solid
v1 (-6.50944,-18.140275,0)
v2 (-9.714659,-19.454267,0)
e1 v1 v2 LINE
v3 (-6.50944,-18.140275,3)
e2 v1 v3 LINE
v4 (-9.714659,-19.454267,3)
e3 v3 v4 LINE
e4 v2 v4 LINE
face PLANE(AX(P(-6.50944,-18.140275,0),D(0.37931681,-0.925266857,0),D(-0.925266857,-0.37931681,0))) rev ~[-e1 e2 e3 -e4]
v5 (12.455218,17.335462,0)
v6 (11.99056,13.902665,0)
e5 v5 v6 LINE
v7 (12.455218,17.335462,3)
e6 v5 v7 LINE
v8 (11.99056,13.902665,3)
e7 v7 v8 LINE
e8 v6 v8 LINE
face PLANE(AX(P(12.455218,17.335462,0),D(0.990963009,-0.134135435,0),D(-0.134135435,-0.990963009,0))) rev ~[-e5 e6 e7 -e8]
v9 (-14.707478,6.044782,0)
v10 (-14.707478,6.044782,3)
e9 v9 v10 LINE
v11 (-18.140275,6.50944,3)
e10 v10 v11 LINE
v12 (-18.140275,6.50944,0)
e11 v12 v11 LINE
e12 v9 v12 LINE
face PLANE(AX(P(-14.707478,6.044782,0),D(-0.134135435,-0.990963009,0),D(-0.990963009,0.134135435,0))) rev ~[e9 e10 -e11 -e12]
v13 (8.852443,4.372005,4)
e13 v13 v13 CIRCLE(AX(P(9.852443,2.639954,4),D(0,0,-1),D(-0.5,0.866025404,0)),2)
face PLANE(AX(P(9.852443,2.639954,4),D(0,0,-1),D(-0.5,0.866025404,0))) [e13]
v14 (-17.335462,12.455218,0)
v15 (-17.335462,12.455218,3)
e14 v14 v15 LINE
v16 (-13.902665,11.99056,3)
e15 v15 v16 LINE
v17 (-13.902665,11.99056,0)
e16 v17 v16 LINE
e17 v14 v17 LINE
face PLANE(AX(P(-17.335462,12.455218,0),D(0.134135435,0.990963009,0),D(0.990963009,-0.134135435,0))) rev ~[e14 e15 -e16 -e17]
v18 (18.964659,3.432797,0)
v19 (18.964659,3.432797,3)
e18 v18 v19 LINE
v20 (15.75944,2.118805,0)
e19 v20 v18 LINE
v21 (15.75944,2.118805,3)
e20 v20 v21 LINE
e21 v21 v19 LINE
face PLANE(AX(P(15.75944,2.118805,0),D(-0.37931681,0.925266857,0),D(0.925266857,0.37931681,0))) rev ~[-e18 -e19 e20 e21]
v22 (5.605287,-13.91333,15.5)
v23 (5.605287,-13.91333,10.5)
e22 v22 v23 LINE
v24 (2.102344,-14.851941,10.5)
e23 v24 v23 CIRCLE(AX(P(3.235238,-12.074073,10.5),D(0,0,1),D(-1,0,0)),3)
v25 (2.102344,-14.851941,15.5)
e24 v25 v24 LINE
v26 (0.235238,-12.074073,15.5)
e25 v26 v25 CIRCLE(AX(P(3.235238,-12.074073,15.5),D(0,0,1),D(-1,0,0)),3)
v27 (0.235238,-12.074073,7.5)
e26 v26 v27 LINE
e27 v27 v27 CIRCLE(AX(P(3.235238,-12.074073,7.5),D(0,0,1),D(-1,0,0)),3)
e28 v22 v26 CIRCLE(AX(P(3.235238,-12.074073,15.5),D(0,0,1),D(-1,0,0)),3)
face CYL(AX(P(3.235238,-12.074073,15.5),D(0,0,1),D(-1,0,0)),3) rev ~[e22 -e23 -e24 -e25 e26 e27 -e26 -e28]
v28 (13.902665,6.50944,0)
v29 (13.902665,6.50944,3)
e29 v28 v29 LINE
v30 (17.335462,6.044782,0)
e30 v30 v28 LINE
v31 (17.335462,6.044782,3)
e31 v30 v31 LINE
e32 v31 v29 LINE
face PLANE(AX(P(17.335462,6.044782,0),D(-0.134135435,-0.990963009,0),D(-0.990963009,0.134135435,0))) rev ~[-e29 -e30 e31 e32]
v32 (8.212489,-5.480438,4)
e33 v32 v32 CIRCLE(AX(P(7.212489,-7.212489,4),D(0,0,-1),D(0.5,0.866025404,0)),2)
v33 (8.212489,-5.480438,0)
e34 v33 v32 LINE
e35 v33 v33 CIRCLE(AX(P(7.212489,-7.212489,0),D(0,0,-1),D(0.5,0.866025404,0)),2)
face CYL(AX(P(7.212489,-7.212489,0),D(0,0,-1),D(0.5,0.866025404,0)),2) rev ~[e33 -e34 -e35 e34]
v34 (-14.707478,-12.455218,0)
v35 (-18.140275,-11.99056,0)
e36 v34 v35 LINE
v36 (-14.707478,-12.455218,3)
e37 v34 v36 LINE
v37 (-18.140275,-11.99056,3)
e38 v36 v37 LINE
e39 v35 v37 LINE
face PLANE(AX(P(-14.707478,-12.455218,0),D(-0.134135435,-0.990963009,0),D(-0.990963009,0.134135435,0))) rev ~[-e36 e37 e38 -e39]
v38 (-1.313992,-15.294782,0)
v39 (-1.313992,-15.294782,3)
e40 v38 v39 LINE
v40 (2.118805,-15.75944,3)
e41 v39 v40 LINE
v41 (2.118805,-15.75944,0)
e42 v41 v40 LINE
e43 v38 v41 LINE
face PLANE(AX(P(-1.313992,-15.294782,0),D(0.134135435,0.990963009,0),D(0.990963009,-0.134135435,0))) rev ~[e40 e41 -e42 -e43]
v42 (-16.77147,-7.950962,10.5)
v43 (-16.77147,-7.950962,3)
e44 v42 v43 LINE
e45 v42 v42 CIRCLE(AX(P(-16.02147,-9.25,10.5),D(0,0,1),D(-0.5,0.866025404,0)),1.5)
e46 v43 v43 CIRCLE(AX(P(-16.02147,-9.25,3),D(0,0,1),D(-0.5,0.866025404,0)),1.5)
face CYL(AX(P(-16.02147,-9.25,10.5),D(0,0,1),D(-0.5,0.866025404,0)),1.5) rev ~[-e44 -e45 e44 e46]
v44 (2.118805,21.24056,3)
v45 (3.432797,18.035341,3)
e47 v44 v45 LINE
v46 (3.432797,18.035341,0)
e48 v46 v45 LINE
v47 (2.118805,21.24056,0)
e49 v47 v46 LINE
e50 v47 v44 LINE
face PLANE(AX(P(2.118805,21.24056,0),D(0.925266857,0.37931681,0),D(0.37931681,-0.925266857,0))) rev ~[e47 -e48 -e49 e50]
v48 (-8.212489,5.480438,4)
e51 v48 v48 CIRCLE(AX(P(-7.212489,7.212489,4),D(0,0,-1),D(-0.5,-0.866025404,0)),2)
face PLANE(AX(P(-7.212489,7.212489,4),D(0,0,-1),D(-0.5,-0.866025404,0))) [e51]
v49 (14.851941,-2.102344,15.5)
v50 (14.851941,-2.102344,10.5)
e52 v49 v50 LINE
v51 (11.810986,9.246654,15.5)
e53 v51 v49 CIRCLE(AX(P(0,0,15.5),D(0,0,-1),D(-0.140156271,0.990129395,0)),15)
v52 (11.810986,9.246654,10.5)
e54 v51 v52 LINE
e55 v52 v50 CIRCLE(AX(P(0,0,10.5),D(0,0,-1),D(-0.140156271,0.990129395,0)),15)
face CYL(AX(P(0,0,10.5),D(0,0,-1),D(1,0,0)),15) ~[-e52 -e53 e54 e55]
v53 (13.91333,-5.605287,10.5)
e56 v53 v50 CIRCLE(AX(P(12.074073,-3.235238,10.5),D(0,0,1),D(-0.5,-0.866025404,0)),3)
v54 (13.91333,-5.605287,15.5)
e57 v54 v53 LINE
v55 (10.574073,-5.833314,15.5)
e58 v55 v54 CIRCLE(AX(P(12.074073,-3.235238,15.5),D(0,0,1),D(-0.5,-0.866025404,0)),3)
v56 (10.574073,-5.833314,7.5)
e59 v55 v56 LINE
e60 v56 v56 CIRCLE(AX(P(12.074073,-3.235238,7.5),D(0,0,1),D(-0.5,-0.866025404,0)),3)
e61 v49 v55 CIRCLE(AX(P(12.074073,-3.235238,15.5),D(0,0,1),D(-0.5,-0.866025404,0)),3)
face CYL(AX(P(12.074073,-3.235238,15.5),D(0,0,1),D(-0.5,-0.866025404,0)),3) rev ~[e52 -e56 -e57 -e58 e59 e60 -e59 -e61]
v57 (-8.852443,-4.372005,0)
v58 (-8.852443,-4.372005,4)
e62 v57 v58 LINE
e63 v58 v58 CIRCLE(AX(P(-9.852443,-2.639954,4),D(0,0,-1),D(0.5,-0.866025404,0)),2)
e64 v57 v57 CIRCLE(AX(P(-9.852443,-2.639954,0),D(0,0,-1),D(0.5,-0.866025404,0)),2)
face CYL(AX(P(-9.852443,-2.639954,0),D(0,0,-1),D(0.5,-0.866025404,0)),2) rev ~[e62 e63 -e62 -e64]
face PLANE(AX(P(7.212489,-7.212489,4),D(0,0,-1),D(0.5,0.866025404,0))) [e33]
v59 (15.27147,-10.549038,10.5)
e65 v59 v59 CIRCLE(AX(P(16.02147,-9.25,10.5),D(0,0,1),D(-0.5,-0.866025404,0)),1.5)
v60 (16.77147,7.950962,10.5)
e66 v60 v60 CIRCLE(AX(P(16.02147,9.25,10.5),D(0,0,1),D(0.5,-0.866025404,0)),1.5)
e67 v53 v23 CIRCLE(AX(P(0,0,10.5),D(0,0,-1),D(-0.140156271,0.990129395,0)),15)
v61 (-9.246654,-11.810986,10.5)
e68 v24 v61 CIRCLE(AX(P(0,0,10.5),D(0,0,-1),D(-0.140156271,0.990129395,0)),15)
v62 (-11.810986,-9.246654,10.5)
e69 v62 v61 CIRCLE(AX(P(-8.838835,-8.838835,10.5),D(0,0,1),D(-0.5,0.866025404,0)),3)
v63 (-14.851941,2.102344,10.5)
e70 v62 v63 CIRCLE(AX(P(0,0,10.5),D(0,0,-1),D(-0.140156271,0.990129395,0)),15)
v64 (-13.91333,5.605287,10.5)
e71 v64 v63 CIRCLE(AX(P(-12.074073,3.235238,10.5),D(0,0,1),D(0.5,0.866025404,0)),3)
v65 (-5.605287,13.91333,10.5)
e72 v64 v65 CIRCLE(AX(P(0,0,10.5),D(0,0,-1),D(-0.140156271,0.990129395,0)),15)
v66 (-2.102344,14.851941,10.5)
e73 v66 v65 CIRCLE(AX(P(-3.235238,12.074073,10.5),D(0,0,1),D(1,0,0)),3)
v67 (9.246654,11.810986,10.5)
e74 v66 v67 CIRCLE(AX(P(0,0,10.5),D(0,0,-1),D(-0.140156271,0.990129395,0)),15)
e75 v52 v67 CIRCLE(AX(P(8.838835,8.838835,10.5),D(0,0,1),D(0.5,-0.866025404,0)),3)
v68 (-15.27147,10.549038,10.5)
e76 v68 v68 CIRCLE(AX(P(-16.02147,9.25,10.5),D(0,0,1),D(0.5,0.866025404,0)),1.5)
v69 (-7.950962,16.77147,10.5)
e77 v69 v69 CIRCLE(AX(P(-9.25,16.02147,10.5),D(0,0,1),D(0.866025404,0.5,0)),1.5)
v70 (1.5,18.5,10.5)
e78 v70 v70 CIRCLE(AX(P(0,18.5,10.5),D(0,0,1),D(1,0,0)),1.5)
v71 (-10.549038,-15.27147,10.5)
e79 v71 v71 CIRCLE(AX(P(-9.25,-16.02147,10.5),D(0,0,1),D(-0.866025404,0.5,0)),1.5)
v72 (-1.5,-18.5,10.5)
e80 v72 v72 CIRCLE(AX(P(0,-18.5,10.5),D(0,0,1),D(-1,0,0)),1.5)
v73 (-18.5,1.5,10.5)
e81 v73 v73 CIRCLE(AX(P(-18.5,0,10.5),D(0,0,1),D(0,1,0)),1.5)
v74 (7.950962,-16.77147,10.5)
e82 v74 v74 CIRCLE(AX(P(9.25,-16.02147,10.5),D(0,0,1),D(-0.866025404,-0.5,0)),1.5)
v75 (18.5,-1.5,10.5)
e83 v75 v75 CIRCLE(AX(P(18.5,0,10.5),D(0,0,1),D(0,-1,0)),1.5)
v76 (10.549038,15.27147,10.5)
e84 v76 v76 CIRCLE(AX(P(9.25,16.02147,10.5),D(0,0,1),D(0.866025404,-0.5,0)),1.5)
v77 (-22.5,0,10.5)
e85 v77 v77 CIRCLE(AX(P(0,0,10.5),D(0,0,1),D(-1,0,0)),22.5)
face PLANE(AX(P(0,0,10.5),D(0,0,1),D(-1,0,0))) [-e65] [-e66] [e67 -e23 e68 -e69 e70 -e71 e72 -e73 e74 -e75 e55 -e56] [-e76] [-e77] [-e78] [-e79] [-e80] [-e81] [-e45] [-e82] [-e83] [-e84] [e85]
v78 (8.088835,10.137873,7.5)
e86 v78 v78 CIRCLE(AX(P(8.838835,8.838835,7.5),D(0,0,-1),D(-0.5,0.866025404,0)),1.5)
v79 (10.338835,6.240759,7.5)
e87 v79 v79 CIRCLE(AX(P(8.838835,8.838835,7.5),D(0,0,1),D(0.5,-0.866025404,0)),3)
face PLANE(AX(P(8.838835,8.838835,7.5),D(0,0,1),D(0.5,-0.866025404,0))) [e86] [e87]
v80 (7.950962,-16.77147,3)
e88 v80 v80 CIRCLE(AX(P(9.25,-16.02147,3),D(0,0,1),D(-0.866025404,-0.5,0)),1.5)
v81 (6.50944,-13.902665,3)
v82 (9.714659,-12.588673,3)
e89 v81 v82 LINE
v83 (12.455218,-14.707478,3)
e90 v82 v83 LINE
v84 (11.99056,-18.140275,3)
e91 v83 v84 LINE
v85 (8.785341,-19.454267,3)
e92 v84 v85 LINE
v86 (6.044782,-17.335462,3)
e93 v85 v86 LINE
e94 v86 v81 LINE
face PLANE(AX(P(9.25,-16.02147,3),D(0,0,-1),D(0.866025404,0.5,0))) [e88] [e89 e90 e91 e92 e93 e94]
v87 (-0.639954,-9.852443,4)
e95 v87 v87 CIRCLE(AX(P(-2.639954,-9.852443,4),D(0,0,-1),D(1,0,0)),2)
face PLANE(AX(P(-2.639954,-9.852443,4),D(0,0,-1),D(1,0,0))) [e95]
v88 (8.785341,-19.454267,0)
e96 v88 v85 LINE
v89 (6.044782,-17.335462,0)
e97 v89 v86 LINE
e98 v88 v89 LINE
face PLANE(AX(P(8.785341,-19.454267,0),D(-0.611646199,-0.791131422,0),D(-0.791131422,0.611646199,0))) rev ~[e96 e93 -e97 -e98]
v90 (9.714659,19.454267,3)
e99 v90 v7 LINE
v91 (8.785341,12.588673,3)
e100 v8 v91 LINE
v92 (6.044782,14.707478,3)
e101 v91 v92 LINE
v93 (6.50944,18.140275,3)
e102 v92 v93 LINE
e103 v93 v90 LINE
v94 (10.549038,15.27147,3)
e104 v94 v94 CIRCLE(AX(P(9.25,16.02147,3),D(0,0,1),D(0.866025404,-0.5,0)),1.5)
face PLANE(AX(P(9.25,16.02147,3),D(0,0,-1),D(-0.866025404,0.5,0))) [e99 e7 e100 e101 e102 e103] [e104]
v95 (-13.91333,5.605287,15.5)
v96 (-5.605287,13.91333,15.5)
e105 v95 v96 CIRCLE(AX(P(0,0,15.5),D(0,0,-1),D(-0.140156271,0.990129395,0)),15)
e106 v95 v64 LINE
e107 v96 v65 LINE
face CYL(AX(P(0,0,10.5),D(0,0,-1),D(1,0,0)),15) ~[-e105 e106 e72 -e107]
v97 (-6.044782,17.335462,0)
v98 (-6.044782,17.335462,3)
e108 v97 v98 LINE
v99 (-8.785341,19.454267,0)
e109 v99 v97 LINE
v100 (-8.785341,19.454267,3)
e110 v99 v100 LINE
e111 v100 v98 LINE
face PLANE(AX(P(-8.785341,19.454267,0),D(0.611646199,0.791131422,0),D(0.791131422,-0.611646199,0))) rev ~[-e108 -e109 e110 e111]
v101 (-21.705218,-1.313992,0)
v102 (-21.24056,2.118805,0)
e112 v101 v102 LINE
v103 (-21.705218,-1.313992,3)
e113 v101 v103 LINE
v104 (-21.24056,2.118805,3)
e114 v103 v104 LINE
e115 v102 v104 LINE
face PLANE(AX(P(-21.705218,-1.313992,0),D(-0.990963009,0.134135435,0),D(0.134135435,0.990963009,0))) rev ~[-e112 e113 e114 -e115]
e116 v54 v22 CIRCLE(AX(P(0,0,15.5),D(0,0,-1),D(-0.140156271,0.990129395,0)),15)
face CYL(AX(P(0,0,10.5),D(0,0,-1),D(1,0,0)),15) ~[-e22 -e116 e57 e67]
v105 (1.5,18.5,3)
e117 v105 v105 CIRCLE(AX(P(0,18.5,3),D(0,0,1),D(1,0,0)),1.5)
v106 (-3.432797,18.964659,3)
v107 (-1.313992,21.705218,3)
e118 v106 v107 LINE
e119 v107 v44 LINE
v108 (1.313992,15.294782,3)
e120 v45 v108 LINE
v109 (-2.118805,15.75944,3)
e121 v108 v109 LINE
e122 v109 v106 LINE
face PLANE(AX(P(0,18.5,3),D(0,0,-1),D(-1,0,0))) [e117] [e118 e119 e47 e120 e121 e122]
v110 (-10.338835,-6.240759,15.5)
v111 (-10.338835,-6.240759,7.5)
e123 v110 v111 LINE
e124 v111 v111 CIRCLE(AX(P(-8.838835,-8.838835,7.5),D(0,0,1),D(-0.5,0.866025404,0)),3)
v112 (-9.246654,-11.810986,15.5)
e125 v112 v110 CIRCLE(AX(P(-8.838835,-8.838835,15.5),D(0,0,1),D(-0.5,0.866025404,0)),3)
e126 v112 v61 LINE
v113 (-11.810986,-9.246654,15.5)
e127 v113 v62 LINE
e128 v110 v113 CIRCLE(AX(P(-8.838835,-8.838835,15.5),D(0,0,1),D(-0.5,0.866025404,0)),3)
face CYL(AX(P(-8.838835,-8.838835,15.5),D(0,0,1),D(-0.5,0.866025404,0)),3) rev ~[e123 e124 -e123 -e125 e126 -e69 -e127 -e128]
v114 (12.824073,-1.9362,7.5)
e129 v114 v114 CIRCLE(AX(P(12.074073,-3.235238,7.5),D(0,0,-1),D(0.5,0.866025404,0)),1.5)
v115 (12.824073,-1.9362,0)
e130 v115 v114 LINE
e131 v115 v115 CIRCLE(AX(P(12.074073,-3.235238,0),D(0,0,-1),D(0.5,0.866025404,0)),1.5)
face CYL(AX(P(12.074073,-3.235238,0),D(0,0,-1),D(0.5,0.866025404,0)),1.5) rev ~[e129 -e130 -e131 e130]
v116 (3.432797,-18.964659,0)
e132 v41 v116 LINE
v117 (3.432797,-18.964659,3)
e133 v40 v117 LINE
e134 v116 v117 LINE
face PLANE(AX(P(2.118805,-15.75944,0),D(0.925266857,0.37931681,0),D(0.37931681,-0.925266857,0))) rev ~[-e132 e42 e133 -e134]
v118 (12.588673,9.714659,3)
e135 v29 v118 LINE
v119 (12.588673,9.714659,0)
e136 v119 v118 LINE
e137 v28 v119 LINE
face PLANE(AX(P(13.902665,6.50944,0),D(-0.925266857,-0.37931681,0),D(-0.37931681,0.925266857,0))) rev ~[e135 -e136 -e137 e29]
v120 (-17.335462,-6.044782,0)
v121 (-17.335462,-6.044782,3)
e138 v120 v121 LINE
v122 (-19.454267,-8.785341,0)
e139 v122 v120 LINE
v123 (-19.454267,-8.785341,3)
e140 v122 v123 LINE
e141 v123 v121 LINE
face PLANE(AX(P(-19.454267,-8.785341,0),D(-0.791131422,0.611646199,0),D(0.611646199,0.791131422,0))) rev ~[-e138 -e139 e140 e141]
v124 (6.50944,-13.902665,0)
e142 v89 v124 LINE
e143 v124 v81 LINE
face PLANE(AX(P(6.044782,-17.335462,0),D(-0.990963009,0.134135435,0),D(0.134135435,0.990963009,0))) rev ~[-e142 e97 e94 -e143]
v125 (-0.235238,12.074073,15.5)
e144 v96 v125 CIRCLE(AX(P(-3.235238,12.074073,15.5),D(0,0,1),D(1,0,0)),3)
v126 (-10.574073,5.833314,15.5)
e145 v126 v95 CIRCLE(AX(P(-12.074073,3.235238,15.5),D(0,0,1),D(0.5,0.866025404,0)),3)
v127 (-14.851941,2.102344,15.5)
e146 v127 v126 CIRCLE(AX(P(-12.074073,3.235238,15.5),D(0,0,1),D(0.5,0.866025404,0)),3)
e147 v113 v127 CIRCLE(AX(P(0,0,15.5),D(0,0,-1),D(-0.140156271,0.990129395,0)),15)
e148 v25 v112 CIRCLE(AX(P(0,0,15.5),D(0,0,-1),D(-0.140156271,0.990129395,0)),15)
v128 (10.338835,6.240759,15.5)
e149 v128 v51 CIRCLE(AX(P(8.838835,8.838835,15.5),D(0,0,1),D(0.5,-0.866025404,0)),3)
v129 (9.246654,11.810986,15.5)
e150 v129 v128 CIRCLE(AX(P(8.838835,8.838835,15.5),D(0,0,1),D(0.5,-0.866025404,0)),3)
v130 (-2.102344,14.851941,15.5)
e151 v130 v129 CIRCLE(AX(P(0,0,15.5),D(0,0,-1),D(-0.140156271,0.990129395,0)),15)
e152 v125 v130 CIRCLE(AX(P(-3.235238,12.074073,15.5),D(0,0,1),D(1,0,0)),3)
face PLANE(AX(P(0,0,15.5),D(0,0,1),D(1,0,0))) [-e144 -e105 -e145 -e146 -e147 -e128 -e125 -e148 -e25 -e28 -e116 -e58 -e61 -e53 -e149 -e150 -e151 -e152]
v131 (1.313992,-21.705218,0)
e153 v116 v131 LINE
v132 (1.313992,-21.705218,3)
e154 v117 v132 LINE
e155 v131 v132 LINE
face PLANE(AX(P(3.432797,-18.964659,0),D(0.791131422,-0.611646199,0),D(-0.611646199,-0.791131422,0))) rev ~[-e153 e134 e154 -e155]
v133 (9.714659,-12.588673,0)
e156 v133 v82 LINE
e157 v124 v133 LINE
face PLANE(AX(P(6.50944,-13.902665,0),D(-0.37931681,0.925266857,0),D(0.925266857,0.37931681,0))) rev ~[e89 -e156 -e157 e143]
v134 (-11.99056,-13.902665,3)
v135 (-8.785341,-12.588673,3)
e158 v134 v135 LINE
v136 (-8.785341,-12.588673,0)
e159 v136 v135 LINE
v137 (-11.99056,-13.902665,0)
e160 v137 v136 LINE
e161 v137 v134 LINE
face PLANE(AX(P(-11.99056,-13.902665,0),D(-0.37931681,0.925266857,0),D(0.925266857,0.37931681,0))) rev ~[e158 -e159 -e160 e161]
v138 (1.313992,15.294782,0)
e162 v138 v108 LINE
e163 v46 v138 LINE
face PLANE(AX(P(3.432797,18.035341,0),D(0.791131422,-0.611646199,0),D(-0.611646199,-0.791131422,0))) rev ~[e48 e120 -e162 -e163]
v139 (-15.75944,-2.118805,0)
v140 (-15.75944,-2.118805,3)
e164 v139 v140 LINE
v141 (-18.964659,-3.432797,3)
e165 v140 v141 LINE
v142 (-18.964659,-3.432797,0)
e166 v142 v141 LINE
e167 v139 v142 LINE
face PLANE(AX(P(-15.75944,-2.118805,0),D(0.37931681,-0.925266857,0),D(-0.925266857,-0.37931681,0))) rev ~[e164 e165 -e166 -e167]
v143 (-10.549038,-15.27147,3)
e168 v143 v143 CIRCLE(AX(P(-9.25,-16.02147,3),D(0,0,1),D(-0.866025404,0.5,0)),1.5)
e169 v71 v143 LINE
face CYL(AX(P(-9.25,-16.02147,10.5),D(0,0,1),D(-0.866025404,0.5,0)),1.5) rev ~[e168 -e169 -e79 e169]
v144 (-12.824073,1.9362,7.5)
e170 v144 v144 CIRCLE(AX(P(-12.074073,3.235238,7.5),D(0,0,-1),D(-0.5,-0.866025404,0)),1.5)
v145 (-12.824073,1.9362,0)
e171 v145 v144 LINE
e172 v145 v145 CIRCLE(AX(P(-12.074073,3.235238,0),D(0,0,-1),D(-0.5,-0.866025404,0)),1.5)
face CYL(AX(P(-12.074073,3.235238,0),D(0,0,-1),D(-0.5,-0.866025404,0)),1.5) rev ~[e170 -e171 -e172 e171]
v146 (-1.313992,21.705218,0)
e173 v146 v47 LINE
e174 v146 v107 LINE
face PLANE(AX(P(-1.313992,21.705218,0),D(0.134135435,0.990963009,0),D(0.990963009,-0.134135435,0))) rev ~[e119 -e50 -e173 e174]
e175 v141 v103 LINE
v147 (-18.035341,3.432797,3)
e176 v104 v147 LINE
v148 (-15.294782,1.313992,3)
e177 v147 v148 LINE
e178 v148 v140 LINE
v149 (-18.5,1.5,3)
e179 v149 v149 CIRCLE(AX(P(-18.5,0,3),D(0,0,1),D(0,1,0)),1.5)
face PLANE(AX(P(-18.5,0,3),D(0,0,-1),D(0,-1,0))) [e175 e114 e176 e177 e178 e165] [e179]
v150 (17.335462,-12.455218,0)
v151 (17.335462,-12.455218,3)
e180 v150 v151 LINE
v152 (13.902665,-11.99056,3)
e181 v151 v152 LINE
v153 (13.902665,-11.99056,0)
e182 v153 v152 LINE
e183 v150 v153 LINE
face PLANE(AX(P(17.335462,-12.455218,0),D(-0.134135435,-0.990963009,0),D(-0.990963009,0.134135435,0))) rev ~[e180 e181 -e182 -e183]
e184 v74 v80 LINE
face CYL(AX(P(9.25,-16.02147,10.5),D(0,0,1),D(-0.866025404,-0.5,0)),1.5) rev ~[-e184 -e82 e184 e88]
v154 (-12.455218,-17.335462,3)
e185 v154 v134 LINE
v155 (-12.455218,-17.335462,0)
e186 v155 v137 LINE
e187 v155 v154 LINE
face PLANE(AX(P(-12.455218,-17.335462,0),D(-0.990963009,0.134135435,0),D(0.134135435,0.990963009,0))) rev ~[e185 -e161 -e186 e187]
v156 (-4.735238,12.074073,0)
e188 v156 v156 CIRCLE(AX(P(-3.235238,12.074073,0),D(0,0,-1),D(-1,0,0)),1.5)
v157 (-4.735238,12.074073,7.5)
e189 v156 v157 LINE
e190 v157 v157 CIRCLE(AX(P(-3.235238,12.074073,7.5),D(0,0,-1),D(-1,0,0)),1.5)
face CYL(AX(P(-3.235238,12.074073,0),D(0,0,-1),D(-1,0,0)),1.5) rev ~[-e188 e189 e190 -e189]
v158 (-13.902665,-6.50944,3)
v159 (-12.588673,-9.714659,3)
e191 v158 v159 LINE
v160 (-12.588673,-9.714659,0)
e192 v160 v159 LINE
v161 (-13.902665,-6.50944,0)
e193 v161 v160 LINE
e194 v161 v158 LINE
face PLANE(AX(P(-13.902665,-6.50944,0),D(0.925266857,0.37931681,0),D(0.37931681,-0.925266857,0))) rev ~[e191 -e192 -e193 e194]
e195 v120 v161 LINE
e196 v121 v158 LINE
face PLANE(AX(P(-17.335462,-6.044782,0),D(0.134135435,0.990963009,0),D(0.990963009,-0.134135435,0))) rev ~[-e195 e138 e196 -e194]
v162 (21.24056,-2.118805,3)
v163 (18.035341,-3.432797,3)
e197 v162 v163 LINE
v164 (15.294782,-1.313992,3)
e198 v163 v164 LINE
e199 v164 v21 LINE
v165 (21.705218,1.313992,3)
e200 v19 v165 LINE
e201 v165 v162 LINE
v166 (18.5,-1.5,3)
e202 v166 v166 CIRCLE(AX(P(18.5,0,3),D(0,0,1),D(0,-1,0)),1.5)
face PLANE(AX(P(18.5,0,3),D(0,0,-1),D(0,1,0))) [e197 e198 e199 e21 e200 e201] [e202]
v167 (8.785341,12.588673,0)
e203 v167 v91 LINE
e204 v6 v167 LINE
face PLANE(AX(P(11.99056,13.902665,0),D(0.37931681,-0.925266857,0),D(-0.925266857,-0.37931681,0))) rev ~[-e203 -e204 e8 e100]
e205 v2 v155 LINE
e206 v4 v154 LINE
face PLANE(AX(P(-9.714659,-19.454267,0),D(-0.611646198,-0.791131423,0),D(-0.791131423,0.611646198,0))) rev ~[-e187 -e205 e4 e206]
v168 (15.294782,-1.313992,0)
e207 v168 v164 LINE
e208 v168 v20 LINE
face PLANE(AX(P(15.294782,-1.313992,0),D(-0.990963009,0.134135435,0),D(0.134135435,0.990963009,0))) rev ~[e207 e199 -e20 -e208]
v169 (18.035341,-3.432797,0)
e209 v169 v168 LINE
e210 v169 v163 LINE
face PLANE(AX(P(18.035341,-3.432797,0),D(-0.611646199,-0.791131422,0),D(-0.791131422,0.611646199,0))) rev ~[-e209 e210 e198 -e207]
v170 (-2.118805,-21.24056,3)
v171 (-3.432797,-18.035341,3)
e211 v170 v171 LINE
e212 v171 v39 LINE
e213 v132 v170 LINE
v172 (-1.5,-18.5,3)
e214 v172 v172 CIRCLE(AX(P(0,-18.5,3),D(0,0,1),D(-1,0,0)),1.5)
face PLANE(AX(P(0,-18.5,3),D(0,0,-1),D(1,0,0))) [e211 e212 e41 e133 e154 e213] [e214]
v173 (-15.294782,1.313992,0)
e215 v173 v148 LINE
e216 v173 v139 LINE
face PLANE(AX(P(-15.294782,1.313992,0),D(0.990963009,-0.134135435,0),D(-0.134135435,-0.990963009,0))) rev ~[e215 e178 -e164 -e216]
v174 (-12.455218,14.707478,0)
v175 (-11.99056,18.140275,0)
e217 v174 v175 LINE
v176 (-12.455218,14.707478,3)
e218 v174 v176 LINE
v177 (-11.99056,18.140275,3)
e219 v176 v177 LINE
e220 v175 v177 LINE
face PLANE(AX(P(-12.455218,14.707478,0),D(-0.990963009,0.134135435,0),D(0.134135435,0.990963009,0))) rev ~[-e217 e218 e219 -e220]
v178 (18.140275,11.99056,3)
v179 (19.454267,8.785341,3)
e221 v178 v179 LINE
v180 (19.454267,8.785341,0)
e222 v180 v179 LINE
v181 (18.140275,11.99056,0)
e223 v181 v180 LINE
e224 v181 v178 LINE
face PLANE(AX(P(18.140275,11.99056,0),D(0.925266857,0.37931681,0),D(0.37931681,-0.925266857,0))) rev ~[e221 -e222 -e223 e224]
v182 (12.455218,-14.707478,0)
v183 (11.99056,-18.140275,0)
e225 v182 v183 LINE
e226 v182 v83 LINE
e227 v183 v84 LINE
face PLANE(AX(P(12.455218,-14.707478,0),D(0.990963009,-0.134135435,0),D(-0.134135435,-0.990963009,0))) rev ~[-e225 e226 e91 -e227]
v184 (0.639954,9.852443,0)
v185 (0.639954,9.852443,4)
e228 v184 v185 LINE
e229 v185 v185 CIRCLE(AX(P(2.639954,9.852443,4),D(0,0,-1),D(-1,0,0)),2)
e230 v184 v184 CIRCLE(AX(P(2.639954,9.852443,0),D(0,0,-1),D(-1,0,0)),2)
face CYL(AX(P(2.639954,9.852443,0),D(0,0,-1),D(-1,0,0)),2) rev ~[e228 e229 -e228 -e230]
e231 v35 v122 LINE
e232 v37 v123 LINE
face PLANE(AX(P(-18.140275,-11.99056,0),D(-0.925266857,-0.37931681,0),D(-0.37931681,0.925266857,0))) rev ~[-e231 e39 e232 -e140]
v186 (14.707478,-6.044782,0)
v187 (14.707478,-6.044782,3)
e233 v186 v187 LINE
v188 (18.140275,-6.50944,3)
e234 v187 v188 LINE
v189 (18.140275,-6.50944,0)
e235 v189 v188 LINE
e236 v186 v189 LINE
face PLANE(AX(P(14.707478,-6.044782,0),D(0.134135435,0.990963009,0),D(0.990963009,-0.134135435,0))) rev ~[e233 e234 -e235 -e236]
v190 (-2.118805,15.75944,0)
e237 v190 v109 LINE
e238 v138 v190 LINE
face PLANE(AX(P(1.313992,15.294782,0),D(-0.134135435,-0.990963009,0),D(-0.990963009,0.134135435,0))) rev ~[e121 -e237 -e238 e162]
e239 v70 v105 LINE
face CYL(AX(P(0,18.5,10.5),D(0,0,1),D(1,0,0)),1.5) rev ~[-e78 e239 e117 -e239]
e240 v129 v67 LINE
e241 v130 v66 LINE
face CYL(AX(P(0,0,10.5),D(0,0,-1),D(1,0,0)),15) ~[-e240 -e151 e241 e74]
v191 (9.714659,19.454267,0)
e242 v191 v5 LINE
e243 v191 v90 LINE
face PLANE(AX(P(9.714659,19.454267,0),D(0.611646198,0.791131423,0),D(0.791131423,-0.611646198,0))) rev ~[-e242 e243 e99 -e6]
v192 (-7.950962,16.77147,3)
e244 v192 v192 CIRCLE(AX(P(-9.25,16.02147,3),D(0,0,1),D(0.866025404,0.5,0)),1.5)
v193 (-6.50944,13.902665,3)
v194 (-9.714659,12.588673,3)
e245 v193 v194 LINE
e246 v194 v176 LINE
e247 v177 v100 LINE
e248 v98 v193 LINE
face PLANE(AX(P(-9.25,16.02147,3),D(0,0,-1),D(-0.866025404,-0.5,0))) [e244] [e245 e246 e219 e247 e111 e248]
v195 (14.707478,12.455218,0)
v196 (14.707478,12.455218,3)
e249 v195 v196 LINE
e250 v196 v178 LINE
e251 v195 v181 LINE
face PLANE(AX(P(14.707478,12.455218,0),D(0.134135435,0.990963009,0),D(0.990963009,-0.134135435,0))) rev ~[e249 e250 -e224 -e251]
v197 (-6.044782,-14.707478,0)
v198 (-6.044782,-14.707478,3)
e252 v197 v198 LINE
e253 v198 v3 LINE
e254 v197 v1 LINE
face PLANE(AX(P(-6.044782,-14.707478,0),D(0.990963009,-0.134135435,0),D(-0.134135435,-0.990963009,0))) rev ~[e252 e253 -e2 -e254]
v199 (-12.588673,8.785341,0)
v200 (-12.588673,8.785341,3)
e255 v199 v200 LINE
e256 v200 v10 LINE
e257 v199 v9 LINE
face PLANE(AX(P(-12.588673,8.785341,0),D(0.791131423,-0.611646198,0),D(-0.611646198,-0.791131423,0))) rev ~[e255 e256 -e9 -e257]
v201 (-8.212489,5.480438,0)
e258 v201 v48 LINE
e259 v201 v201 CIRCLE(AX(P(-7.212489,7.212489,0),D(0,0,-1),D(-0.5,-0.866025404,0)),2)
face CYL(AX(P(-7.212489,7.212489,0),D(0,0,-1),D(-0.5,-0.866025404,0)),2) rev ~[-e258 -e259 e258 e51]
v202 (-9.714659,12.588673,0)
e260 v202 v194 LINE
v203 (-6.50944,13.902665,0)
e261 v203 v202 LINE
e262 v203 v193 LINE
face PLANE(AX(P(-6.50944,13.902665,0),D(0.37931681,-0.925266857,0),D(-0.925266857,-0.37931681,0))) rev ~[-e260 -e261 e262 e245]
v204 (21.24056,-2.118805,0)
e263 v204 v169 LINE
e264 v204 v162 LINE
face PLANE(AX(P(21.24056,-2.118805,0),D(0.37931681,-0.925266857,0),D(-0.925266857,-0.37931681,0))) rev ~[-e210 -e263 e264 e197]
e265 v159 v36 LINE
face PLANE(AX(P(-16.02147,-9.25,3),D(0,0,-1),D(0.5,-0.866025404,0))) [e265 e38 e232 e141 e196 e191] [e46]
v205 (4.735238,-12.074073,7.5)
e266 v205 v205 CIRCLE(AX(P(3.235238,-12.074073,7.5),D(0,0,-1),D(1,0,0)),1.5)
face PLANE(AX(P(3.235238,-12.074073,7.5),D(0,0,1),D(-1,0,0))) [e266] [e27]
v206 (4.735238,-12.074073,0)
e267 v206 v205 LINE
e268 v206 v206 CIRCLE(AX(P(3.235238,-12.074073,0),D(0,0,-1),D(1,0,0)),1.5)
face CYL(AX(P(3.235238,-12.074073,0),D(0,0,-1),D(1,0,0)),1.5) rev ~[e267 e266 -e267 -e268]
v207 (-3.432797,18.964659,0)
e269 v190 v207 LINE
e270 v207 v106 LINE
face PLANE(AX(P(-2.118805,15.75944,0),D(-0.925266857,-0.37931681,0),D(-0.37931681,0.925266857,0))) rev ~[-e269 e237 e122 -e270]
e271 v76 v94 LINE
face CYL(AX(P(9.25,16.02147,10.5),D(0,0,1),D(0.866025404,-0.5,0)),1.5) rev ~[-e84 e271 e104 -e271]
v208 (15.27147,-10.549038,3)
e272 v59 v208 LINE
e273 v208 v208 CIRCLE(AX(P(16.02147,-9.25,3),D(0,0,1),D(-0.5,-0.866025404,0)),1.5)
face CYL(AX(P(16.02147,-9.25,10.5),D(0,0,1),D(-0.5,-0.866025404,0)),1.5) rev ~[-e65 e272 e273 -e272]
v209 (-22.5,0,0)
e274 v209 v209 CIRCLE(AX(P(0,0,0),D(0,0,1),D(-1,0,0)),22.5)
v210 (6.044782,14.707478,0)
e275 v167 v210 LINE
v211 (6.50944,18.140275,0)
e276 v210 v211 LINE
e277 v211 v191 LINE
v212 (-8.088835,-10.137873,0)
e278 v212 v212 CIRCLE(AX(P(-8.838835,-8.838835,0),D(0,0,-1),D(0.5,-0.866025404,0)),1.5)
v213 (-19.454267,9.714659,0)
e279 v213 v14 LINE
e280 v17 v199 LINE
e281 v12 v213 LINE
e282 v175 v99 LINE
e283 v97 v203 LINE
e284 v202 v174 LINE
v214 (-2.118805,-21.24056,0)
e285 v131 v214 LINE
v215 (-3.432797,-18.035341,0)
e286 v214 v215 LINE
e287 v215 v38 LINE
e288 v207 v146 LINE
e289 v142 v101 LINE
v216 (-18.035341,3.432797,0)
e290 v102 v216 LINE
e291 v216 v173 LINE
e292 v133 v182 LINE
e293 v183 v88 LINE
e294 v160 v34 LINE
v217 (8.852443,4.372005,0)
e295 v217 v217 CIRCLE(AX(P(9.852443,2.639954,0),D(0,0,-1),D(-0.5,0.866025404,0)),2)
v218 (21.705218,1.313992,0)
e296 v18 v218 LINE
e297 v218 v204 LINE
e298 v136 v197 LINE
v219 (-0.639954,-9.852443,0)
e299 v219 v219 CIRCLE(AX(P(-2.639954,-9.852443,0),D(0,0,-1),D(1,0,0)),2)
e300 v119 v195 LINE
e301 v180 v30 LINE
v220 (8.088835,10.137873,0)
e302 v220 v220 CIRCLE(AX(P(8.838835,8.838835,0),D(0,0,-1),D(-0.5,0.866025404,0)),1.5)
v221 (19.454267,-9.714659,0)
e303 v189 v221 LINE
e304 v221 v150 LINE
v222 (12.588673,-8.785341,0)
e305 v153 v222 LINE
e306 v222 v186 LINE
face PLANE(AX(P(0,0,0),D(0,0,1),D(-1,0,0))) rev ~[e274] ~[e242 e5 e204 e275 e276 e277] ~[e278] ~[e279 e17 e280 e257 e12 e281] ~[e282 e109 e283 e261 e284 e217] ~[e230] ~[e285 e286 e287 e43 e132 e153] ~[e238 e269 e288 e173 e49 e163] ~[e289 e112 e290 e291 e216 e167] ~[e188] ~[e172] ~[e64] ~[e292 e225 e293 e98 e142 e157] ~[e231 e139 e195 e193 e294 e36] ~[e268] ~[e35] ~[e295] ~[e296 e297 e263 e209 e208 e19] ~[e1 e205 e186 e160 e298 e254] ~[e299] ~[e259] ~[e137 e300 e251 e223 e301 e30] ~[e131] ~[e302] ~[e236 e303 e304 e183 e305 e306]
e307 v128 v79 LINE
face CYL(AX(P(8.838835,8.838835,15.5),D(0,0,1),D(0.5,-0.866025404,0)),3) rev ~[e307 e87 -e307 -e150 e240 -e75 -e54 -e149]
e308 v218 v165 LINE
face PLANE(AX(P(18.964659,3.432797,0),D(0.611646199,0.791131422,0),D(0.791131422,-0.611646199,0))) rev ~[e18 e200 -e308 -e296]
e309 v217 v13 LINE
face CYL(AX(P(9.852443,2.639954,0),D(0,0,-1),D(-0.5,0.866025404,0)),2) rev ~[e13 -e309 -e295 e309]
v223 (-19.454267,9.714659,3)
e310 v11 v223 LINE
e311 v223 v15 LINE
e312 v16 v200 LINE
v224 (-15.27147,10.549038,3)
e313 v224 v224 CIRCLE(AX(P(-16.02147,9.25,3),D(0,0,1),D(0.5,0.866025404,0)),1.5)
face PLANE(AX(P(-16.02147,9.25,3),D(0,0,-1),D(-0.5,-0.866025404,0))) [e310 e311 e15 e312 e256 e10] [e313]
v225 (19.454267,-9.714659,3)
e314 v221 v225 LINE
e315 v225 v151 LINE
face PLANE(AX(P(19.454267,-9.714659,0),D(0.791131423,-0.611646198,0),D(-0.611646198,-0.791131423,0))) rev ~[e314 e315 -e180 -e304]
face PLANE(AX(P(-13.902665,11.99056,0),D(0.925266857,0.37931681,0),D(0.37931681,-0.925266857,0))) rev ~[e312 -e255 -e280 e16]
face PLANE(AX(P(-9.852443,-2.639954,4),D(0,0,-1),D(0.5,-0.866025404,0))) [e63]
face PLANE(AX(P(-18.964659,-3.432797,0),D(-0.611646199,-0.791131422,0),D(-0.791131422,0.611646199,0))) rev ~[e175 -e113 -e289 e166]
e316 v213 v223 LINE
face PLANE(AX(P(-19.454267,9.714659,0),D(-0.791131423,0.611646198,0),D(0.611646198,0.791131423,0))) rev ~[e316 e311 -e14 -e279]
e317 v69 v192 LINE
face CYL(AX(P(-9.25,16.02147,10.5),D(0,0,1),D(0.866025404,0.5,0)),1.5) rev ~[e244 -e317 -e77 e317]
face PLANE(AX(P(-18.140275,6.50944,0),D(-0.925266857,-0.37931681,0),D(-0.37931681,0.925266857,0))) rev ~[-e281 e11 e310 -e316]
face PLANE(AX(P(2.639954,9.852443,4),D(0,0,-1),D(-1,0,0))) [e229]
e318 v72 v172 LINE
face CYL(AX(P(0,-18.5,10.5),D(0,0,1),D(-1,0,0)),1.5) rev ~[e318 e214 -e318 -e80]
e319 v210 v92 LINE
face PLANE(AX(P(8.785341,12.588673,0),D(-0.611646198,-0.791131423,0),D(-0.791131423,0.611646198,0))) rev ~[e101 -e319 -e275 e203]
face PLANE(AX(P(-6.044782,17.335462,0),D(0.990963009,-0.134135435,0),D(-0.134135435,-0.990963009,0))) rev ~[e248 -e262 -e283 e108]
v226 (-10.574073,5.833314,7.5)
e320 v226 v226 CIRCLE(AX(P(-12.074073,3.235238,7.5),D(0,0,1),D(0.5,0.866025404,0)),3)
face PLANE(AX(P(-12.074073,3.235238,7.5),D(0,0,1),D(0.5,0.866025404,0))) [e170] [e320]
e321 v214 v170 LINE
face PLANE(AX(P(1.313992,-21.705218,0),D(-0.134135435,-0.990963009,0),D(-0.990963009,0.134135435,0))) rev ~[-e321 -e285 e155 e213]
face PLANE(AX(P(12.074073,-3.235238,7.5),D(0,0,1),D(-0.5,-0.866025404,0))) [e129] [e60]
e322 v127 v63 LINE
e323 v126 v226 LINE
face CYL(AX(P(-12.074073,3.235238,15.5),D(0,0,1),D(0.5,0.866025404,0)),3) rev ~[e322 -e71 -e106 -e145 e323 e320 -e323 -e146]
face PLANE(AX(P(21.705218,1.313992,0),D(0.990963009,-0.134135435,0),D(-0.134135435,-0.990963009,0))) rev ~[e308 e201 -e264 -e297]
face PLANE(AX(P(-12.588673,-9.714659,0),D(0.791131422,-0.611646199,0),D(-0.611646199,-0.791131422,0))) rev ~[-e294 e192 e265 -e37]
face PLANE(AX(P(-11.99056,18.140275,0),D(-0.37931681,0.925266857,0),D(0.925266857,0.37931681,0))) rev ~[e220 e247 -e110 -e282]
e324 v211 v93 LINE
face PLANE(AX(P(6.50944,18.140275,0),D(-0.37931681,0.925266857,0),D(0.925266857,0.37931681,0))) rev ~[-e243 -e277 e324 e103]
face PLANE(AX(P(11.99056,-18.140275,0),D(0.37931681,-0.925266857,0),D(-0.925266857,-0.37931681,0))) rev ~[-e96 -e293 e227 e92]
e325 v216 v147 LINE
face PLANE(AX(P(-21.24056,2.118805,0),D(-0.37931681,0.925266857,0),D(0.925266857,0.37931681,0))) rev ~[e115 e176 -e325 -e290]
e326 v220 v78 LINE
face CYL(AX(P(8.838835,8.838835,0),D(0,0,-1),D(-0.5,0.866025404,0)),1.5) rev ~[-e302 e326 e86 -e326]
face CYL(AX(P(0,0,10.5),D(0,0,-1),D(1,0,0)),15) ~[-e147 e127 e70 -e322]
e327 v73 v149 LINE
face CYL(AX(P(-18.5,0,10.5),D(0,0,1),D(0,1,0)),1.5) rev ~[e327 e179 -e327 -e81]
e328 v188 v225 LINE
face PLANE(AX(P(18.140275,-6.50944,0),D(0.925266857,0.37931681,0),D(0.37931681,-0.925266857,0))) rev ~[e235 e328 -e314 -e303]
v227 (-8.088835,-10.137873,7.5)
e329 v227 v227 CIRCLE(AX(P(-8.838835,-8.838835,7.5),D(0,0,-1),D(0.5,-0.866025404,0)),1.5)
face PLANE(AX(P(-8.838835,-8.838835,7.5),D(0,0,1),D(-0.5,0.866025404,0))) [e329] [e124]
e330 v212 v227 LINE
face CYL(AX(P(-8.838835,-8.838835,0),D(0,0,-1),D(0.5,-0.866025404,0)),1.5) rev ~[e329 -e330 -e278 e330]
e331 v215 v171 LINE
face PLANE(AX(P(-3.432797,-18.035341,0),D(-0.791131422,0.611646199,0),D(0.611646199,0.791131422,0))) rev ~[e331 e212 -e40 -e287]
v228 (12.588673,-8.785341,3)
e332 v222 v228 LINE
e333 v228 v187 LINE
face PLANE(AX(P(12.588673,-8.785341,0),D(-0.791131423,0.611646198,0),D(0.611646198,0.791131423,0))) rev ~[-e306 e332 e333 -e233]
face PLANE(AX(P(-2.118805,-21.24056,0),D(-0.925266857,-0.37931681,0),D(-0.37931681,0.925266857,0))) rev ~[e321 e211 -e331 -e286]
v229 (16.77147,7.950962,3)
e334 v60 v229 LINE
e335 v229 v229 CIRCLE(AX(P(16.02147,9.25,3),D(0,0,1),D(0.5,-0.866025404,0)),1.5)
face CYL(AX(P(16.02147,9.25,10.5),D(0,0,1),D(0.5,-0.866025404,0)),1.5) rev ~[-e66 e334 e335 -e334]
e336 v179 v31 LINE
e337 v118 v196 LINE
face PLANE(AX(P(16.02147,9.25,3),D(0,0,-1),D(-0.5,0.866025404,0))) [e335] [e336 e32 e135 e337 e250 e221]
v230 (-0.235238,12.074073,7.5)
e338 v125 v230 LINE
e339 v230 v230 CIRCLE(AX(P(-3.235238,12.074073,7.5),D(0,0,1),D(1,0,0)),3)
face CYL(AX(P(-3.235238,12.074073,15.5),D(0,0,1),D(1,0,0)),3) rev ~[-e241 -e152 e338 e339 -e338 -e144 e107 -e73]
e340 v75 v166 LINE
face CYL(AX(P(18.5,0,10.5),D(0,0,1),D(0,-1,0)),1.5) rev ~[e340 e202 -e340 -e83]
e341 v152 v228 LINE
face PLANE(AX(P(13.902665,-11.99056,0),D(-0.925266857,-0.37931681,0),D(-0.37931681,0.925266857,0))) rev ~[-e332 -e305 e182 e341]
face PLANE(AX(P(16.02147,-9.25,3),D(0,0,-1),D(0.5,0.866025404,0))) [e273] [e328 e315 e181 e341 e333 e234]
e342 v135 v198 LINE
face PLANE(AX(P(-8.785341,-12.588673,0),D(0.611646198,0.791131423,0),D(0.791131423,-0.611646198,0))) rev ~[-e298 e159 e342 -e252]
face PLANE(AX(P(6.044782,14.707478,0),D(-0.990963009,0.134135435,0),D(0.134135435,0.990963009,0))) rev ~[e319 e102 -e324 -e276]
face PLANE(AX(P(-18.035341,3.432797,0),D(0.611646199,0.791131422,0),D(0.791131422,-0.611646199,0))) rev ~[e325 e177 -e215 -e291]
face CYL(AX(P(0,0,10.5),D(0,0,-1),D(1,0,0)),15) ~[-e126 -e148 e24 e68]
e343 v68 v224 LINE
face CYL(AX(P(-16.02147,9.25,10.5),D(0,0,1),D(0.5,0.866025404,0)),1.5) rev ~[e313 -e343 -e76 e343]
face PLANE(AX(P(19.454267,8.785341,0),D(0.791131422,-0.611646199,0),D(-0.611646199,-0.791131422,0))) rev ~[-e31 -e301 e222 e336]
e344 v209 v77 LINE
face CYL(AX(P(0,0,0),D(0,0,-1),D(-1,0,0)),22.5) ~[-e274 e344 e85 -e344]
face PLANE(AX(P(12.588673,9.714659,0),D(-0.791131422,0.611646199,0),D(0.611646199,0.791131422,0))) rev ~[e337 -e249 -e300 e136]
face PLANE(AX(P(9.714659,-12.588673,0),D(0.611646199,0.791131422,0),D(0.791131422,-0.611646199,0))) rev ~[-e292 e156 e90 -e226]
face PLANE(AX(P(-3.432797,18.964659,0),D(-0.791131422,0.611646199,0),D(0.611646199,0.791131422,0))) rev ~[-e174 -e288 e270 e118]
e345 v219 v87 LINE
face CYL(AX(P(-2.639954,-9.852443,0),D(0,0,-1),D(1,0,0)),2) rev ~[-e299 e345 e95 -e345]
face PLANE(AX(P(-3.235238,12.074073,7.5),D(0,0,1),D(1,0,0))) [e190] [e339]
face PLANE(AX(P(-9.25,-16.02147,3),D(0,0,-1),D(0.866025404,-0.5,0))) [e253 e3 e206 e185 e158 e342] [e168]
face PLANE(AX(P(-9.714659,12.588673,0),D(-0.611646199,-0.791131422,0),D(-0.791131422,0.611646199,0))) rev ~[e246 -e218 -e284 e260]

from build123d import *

# Parameters (mm, degrees)
SKETCH_1_R               = 22.5
EXTRUDE_1_DEPTH          = 10.5
SKETCH_2_R               = 15
EXTRUDE_2_DEPTH          = 5
SKETCH_3_R               = 1.5
CUT_EXTRUDE_1_DEPTH      = 5
SKETCH_5_R               = 1.5
CUT_EXTRUDE_2_DEPTH      = 34.507461856
CUT_EXTRUDE_6_DEPTH      = 3
PATTERN_CIRCULAR_1_COUNT = 12
SKETCH_6_R               = 1.5
CUT_EXTRUDE_3_DEPTH      = 36.394208566
SKETCH_7_R               = 3
CUT_EXTRUDE_4_DEPTH      = 8
PATTERN_CIRCULAR_2_COUNT = 6
SKETCH_8_R               = 2
CUT_EXTRUDE_5_DEPTH      = 4
PATTERN_CIRCULAR_3_COUNT = 6


with BuildPart() as part:
    # 草图1 → 凸台-拉伸1 (new body)
    with BuildSketch(Plane.XY):
        with Locations(Location((0, 0, 0), (0, 0, 180))):
            Circle(SKETCH_1_R)
    extrude(amount=EXTRUDE_1_DEPTH)

    # 草图2 → 凸台-拉伸2 (add)
    with BuildSketch(Plane.XY.offset(10.5)):
        Circle(SKETCH_2_R)
    extrude(amount=EXTRUDE_2_DEPTH)

    # 草图3 → 切除-拉伸1 (cut)
    with BuildSketch(Plane.XY.offset(10.5)):
        with Locations((0, 18.5)):
            Circle(SKETCH_3_R)
    cut_extrude_1 = extrude(amount=-CUT_EXTRUDE_1_DEPTH, mode=Mode.SUBTRACT)

    # 草图5 → 切除-拉伸2 (cut, through all)
    with BuildSketch(Plane.XY.offset(10.5)):
        with Locations((0, 18.5)):
            Circle(SKETCH_5_R)
    cut_extrude_2 = extrude(amount=-CUT_EXTRUDE_2_DEPTH, mode=Mode.SUBTRACT)

    # 草图9 → 切除-拉伸6 (cut)
    with BuildSketch(Plane(origin=(0, 0, 0), x_dir=(-1, 0, 0), z_dir=(0, 0, -1))):
        Polygon((1.313991975, 21.705218415), (-2.118804585, 21.240559639), (-3.43279656, 18.035341223), (-1.313991975, 15.294781585), (2.118804585, 15.759440361), (3.43279656, 18.964658777), align=None)
    cut_extrude_6 = extrude(amount=-CUT_EXTRUDE_6_DEPTH, mode=Mode.SUBTRACT)

    # 阵列(圆周)1: 切除-拉伸1, 切除-拉伸2, 切除-拉伸6 ×12 about axis
    pattern_circular_1_axis = Axis((0, 0, 0), (0, 0, 1))
    add([cut_extrude_1.rotate(pattern_circular_1_axis, i * 360 / PATTERN_CIRCULAR_1_COUNT) for i in range(1, PATTERN_CIRCULAR_1_COUNT)], mode=Mode.SUBTRACT)
    add([cut_extrude_2.rotate(pattern_circular_1_axis, i * 360 / PATTERN_CIRCULAR_1_COUNT) for i in range(1, PATTERN_CIRCULAR_1_COUNT)], mode=Mode.SUBTRACT)
    add([cut_extrude_6.rotate(pattern_circular_1_axis, i * 360 / PATTERN_CIRCULAR_1_COUNT) for i in range(1, PATTERN_CIRCULAR_1_COUNT)], mode=Mode.SUBTRACT)

    # 草图6 → 切除-拉伸3 (cut, through all)
    with BuildSketch(Plane(origin=(0, 0, 0), x_dir=(-1, 0, 0), z_dir=(0, 0, -1))):
        with Locations((3.235238064, 12.074072829)):
            Circle(SKETCH_6_R)
    cut_extrude_3 = extrude(amount=-CUT_EXTRUDE_3_DEPTH, mode=Mode.SUBTRACT)

    # 草图7 → 切除-拉伸4 (cut)
    with BuildSketch(Plane.XY.offset(15.5)):
        with Locations((-3.235238064, 12.074072829)):
            Circle(SKETCH_7_R)
    cut_extrude_4 = extrude(amount=-CUT_EXTRUDE_4_DEPTH, mode=Mode.SUBTRACT)

    # 阵列(圆周)2: 切除-拉伸3, 切除-拉伸4 ×6 about axis
    pattern_circular_2_axis = Axis((0, 0, 0), (0, 0, 1))
    add([cut_extrude_3.rotate(pattern_circular_2_axis, i * 360 / PATTERN_CIRCULAR_2_COUNT) for i in range(1, PATTERN_CIRCULAR_2_COUNT)], mode=Mode.SUBTRACT)
    add([cut_extrude_4.rotate(pattern_circular_2_axis, i * 360 / PATTERN_CIRCULAR_2_COUNT) for i in range(1, PATTERN_CIRCULAR_2_COUNT)], mode=Mode.SUBTRACT)

    # 草图8 → 切除-拉伸5 (cut)
    with BuildSketch(Plane(origin=(0, 0, 0), x_dir=(-1, 0, 0), z_dir=(0, 0, -1))):
        with Locations((-2.63995426, 9.852443428)):
            Circle(SKETCH_8_R)
    cut_extrude_5 = extrude(amount=-CUT_EXTRUDE_5_DEPTH, mode=Mode.SUBTRACT)

    # 阵列(圆周)3: 切除-拉伸5 ×6 about axis
    pattern_circular_3_axis = Axis((0, 0, 0), (0, 0, 1))
    for i in range(1, PATTERN_CIRCULAR_3_COUNT):
        add(cut_extrude_5.rotate(pattern_circular_3_axis, i * 360 / PATTERN_CIRCULAR_3_COUNT), mode=Mode.SUBTRACT)


solid = part.part
